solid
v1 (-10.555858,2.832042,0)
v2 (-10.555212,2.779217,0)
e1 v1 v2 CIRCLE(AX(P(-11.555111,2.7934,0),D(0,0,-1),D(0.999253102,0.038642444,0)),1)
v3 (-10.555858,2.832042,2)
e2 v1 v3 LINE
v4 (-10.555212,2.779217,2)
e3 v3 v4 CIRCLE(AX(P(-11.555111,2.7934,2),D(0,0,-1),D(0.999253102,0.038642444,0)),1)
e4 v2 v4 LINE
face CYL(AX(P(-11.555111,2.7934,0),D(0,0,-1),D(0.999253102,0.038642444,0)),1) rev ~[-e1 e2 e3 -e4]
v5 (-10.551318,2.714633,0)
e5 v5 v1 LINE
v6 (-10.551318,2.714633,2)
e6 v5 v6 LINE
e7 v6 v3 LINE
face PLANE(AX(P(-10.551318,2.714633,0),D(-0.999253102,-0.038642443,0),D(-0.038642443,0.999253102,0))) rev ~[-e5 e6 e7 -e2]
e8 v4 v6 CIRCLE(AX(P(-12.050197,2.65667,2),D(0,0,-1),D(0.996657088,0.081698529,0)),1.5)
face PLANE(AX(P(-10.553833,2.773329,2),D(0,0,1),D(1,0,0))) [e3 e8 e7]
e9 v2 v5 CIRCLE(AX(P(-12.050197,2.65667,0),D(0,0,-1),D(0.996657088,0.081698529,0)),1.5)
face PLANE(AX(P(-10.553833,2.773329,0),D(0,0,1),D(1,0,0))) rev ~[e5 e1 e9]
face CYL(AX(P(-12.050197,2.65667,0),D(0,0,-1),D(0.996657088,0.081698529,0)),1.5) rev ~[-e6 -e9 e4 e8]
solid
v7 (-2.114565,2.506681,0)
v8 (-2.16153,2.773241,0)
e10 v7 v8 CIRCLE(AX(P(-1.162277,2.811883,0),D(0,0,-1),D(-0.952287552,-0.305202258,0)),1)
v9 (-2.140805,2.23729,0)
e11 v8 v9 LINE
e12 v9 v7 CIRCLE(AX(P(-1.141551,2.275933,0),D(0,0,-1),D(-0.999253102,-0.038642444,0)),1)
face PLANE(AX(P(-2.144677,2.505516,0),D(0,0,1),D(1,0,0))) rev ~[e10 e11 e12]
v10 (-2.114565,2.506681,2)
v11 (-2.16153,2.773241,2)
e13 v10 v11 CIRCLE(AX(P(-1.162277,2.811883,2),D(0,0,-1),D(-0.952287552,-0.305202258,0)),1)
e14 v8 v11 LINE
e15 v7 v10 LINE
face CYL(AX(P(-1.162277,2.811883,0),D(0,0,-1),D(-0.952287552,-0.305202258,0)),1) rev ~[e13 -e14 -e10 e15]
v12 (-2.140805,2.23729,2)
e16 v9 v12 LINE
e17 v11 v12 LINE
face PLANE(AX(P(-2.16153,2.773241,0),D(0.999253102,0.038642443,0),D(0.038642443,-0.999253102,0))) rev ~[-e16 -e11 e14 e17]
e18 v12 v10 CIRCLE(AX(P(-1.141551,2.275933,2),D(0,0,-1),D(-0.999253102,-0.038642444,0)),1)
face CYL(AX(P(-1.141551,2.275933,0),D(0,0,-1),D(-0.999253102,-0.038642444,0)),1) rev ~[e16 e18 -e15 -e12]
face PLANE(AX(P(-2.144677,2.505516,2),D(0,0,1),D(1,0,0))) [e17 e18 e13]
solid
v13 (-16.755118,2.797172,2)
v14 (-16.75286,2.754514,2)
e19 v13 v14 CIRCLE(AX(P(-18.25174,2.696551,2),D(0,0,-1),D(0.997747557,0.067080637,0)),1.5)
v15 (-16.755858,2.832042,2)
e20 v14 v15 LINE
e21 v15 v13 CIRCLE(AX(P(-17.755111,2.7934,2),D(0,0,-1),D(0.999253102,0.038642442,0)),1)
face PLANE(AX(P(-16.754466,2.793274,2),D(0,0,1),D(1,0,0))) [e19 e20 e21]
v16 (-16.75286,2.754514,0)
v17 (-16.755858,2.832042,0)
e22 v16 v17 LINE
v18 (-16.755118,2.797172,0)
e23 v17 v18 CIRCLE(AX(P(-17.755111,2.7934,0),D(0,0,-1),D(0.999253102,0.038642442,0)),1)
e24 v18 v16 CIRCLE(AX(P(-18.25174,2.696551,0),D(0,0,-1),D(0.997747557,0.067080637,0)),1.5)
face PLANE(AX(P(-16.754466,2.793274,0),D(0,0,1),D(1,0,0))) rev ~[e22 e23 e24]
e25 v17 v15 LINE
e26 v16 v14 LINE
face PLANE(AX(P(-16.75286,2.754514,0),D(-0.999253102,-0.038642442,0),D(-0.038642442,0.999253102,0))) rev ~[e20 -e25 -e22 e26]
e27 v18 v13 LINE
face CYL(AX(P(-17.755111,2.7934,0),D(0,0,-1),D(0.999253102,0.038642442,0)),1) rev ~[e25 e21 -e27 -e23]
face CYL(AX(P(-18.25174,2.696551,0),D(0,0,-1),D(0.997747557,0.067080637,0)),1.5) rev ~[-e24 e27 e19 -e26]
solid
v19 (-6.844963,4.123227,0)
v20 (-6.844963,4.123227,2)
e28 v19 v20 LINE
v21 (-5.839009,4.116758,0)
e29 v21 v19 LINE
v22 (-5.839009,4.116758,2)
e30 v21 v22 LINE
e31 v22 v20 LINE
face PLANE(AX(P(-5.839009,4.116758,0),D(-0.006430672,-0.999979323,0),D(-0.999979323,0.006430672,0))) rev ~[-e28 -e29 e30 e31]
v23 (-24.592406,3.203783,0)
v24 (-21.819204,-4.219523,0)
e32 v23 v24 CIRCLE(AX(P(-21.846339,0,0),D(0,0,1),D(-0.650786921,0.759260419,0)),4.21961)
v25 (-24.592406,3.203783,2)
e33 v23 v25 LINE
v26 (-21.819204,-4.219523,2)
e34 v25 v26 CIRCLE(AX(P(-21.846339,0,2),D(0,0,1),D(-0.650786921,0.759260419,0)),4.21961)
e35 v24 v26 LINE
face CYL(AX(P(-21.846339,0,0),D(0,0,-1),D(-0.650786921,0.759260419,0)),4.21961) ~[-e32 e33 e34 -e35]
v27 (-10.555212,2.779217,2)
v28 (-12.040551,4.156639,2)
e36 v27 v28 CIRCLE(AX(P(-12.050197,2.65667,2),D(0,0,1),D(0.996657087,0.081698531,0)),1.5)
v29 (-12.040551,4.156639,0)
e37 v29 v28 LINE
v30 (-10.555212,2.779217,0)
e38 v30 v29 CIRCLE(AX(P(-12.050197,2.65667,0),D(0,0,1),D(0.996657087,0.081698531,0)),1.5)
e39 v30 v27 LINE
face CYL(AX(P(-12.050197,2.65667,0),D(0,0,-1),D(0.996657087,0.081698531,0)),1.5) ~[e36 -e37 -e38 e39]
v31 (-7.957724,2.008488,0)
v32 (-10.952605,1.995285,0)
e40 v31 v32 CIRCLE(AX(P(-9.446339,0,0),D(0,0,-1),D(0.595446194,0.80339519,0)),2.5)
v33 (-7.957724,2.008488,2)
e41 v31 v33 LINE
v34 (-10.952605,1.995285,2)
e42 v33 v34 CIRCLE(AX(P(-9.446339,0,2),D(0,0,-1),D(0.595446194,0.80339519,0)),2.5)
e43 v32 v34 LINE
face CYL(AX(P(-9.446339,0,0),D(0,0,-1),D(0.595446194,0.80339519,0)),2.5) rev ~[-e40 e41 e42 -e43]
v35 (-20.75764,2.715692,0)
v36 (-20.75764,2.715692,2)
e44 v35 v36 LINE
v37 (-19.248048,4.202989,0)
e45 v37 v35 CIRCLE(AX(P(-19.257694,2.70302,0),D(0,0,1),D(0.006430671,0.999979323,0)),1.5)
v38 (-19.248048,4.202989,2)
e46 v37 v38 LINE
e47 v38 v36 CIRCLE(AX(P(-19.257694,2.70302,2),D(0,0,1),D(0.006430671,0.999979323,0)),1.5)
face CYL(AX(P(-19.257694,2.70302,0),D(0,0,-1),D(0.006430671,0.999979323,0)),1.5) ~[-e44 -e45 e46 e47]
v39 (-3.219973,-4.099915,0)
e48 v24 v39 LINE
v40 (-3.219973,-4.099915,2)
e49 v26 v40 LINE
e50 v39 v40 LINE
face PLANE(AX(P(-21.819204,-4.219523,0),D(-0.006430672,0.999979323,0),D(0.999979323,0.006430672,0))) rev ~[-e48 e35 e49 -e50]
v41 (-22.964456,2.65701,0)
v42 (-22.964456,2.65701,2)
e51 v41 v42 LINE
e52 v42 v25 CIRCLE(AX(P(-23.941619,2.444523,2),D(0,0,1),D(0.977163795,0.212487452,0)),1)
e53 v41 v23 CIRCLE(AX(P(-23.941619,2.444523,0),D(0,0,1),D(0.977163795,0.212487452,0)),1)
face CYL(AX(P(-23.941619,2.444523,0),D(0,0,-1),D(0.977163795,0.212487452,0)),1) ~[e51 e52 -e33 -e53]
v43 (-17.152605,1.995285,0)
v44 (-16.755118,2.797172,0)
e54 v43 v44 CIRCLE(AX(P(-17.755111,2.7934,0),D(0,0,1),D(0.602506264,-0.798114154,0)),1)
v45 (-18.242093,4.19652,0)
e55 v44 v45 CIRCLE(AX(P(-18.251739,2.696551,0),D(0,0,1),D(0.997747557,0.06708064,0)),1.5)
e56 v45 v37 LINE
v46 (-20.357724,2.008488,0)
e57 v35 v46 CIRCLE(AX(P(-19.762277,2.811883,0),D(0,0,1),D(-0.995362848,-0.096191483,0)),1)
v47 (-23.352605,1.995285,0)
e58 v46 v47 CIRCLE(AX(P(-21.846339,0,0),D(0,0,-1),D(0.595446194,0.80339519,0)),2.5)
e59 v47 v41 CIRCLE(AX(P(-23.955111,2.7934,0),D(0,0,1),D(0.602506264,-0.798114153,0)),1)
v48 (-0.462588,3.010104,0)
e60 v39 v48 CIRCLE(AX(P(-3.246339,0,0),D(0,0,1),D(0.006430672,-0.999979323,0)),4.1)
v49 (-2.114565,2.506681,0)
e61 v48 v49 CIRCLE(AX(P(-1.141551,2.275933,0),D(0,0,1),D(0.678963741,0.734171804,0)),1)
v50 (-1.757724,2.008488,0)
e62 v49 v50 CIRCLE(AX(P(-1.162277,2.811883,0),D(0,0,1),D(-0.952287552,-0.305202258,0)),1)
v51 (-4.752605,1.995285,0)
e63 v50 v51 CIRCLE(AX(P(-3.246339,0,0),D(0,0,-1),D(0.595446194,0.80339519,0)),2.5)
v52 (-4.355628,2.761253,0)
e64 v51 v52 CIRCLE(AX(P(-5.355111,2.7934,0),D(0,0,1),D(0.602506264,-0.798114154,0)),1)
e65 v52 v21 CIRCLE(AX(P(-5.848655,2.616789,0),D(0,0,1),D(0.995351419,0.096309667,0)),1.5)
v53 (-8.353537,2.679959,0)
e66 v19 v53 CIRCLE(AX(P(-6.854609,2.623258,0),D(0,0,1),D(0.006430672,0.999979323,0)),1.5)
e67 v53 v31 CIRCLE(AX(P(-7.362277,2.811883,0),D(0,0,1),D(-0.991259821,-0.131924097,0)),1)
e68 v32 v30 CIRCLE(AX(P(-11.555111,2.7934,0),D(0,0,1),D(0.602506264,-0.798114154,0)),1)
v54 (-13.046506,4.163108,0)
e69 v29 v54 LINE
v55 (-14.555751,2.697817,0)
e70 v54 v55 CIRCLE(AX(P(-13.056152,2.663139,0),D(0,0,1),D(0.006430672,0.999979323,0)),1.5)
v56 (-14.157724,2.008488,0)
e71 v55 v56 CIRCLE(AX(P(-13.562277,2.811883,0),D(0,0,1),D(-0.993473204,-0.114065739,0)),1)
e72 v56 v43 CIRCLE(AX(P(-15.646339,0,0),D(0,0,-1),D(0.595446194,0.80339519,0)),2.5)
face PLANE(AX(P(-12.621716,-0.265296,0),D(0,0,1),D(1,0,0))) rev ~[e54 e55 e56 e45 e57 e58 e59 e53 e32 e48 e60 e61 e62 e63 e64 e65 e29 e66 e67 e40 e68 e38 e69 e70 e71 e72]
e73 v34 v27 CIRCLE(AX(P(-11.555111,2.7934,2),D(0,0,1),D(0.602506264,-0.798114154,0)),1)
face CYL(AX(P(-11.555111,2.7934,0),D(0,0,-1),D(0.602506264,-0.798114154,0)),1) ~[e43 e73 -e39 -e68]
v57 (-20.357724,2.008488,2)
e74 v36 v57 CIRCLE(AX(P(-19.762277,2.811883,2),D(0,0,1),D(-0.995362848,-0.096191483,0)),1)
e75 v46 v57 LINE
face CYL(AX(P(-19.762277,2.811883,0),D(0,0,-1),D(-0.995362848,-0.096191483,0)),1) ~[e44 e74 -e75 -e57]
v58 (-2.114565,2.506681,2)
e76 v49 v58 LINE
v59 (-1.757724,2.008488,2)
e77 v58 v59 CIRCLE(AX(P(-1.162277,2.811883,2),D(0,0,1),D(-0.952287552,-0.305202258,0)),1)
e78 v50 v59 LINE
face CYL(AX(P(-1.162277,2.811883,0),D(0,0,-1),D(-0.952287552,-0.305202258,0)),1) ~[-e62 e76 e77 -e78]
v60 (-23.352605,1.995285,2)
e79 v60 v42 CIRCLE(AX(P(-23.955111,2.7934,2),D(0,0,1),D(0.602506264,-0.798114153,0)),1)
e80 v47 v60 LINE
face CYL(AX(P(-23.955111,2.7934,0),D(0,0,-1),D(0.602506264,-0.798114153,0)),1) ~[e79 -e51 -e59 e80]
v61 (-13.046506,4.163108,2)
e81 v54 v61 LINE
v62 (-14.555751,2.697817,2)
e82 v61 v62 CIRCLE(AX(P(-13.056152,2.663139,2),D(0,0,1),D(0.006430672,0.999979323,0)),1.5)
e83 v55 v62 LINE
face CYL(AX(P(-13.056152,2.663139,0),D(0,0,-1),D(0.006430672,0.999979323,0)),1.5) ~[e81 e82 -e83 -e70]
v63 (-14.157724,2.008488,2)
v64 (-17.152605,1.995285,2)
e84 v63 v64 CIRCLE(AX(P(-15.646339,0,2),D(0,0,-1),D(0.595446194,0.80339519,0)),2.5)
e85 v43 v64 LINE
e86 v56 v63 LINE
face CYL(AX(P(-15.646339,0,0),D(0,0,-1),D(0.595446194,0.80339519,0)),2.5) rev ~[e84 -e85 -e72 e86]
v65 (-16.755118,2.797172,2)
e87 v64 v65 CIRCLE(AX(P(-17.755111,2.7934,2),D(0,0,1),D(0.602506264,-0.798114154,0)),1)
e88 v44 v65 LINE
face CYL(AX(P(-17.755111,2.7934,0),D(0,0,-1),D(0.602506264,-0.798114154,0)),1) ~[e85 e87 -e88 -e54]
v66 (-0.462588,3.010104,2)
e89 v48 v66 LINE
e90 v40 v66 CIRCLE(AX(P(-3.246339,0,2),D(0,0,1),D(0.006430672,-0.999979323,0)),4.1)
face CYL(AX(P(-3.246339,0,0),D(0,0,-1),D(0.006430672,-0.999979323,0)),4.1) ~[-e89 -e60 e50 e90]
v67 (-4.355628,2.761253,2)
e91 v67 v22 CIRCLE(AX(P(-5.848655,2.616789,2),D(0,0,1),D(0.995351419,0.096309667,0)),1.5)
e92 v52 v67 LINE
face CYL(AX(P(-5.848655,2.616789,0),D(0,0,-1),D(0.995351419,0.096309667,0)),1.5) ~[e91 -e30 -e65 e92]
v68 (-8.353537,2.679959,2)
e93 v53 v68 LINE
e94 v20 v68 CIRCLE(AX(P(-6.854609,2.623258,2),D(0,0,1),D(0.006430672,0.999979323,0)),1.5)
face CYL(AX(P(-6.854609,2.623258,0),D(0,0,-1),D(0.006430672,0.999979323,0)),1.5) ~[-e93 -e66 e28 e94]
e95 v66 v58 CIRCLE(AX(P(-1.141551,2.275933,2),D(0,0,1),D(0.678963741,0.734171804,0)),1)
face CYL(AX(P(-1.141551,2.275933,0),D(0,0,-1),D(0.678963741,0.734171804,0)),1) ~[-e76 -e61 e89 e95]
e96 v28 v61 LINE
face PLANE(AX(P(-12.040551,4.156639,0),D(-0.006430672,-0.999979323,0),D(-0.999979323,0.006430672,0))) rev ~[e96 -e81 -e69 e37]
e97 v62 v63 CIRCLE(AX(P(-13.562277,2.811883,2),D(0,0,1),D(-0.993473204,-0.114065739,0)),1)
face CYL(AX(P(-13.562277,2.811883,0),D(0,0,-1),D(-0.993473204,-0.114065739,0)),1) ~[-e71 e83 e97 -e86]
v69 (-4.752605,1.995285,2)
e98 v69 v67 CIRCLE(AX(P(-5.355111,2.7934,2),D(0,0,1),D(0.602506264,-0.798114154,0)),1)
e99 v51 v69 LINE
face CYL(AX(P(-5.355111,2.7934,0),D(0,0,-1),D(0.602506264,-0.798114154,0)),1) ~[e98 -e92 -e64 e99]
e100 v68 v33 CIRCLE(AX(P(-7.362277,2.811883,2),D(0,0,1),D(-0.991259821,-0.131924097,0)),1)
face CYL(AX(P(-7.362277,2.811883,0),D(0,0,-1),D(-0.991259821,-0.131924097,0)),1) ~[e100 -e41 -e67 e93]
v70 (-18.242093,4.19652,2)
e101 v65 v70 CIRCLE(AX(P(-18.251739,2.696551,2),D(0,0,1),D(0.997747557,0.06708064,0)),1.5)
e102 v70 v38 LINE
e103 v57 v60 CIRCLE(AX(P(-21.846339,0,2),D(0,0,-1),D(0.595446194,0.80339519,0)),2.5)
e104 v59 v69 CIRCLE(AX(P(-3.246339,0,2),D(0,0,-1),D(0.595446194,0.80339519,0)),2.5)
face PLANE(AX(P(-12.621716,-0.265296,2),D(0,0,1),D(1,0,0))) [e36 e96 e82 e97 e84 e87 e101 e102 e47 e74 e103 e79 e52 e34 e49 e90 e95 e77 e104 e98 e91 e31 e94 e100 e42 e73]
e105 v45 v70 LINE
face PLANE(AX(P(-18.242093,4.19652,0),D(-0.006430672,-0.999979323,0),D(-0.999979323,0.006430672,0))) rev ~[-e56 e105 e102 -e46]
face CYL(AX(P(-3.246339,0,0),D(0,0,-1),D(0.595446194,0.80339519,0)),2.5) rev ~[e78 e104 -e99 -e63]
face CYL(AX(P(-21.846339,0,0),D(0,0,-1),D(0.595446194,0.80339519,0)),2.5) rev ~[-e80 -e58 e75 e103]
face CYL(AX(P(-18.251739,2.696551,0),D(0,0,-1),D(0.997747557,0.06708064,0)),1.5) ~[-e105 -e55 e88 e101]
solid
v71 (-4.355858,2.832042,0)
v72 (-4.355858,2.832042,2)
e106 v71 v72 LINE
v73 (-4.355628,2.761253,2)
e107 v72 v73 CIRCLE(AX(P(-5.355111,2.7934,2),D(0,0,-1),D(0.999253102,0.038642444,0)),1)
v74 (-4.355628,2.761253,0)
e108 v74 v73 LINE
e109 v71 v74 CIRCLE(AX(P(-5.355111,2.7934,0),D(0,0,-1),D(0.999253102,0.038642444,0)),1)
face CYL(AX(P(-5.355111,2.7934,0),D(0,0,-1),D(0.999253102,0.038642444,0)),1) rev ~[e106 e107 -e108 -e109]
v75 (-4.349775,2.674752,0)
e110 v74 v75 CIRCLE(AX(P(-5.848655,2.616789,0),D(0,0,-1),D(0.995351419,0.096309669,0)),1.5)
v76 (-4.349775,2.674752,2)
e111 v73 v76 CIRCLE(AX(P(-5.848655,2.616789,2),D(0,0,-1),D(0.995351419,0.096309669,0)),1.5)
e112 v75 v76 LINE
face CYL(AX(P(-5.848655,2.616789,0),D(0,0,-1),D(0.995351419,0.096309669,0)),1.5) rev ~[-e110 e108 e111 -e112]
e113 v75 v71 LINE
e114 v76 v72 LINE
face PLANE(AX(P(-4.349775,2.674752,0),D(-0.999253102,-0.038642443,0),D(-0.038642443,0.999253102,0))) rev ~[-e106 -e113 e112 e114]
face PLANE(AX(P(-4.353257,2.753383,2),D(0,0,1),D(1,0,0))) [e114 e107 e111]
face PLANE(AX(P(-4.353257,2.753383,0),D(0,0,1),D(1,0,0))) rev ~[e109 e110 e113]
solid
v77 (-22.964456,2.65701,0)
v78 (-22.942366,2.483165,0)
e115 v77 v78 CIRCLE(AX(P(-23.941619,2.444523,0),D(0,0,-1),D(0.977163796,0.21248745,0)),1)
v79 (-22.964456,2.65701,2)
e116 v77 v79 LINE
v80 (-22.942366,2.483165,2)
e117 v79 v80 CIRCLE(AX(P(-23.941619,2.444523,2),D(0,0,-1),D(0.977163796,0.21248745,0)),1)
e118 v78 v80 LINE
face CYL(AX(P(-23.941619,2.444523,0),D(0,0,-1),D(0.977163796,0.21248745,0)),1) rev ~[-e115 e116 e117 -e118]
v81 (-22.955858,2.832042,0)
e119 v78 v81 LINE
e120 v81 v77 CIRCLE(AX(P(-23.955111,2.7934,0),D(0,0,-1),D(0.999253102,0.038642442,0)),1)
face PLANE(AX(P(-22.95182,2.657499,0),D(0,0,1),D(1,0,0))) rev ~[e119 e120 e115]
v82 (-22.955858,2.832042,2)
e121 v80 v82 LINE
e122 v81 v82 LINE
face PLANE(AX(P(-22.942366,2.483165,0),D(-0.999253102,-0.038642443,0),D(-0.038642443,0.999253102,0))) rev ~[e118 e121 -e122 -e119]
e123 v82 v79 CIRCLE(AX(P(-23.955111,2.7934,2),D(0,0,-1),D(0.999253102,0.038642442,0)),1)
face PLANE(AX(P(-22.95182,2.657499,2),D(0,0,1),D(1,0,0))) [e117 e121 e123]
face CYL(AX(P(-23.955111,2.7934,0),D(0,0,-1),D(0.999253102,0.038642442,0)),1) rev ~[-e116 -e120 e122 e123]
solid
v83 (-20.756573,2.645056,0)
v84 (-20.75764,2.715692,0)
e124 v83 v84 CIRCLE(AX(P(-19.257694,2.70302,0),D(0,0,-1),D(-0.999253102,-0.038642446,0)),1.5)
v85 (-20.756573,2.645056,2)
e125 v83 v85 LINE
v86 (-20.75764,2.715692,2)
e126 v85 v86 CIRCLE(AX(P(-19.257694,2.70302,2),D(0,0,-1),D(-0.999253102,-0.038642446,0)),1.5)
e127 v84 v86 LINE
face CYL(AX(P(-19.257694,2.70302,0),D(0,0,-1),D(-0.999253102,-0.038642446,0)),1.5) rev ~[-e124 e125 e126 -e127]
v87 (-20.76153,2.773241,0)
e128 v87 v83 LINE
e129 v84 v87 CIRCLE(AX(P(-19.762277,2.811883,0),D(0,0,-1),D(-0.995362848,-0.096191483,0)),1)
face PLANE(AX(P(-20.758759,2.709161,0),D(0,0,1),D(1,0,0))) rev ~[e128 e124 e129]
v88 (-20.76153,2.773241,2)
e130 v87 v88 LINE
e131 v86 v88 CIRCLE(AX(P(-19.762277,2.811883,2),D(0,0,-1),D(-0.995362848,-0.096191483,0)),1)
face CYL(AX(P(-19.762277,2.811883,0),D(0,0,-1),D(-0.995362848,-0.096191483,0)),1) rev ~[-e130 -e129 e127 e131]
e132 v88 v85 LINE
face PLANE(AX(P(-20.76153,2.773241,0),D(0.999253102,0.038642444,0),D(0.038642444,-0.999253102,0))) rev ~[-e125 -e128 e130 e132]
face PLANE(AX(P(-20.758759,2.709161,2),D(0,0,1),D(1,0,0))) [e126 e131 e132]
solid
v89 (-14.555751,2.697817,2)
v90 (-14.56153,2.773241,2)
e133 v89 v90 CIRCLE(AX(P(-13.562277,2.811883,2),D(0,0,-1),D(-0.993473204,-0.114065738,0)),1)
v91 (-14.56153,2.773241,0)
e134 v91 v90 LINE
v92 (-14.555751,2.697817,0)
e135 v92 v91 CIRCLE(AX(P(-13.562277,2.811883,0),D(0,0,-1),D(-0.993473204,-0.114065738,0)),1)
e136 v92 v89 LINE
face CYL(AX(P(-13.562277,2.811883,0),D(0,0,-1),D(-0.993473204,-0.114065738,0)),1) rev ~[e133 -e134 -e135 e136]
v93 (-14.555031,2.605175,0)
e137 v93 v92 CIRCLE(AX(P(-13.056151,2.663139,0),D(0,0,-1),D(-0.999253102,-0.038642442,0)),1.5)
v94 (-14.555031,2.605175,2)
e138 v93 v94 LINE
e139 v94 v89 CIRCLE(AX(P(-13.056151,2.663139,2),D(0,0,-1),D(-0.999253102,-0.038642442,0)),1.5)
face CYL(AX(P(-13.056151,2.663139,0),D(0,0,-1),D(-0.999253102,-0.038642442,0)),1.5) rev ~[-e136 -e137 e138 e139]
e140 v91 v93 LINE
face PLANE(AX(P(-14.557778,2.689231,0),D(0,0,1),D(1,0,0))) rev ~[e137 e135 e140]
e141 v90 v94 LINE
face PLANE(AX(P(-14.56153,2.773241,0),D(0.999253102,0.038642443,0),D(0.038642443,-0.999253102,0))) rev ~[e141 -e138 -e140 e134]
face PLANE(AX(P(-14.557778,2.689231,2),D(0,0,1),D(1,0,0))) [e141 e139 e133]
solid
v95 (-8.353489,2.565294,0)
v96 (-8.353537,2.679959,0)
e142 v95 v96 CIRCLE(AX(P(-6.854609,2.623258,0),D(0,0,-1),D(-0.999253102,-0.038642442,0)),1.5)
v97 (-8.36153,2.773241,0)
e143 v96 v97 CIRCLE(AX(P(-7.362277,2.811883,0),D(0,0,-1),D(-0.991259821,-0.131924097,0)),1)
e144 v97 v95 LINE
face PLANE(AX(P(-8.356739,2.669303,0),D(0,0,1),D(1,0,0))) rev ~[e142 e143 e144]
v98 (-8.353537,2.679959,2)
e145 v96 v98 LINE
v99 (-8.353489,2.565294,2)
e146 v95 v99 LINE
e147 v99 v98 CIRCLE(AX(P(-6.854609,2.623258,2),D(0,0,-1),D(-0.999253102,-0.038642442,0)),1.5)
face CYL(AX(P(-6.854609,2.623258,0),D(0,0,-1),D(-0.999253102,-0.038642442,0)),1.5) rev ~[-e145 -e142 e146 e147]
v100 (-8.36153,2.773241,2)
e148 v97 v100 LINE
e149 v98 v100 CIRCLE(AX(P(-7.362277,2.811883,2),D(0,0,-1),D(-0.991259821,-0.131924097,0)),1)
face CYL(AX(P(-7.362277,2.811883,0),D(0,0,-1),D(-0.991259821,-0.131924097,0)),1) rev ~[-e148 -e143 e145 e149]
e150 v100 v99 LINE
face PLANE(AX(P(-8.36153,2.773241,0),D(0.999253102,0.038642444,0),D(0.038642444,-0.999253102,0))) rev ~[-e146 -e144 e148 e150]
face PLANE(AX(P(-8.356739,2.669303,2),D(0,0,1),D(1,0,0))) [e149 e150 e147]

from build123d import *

# Parameters (mm, degrees)
F1_DEPTH = 2


with BuildPart() as f1:
    # F0 (on Top) → F1 (new body)
    with BuildSketch(Plane.XY):
        with BuildLine():
            ThreePointArc((-20.7565734159, 2.6450559883), (-20.7575227142, 2.6803675531), (-20.7576402354, 2.7156916802))
            ThreePointArc((-20.7576402354, 2.7156916802), (-20.7600003801, 2.7444381453), (-20.7615304896, 2.7732407199))
            Line((-20.7615304896, 2.7732407199), (-20.7565734159, 2.6450559883))
        make_face()
    extrude(amount=F1_DEPTH)


with BuildPart() as f1b:
    # F0 (on Top) → F1, piece 2 (new body)
    with BuildSketch(Plane.XY):
        with BuildLine():
            ThreePointArc((-16.7558578866, 2.8320419808), (-16.7553359551, 2.8146099746), (-16.7551181024, 2.7971715173))
            ThreePointArc((-16.7551181024, 2.7971715173), (-16.7538370868, 2.7758509096), (-16.7528597854, 2.7545142229))
            Line((-16.7528597854, 2.7545142229), (-16.7558578866, 2.8320419808))
        make_face()
    extrude(amount=F1_DEPTH)


with BuildPart() as f1c:
    # F0 (on Top) → F1, piece 3 (new body)
    with BuildSketch(Plane.XY):
        with BuildLine():
            ThreePointArc((-14.5550311684, 2.6051750824), (-14.5561062892, 2.6514906978), (-14.5557505918, 2.6978174244))
            ThreePointArc((-14.5557505918, 2.6978174244), (-14.559353965, 2.7354744005), (-14.5615304896, 2.7732407199))
            Line((-14.5615304896, 2.7732407199), (-14.5550311684, 2.6051750824))
        make_face()
    extrude(amount=F1_DEPTH)


with BuildPart() as f1d:
    # F0 (on Top) → F1, piece 4 (new body)
    with BuildSketch(Plane.XY):
        with BuildLine():
            ThreePointArc((-10.5558578866, 2.8320419808), (-10.5551858321, 2.8056339835), (-10.5552115594, 2.7792174485))
            ThreePointArc((-10.5552115594, 2.7792174485), (-10.5529162844, 2.7469463809), (-10.5513175378, 2.714633317))
            Line((-10.5513175378, 2.714633317), (-10.5558578866, 2.8320419808))
        make_face()
    extrude(amount=F1_DEPTH)


with BuildPart() as f1e:
    # F0 (on Top) → F1, piece 5 (new body)
    with BuildSketch(Plane.XY):
        with BuildLine():
            ThreePointArc((-8.3534889208, 2.5652941765), (-8.354609135, 2.6226261597), (-8.3535372087, 2.6799590661))
            ThreePointArc((-8.3535372087, 2.6799590661), (-8.3586261172, 2.7265062968), (-8.3615304896, 2.7732407199))
            Line((-8.3615304896, 2.7732407199), (-8.3534889208, 2.5652941765))
        make_face()
    extrude(amount=F1_DEPTH)


with BuildPart() as f1f:
    # F0 (on Top) → F1, piece 6 (new body)
    with BuildSketch(Plane.XY):
        with BuildLine():
            ThreePointArc((-4.3558578866, 2.8320419808), (-4.3551162701, 2.7966496504), (-4.3556278141, 2.761253247))
            ThreePointArc((-4.3556278141, 2.761253247), (-4.3520764632, 2.7180451217), (-4.3497752903, 2.6747524111))
            Line((-4.3497752903, 2.6747524111), (-4.3558578866, 2.8320419808))
        make_face()
    extrude(amount=F1_DEPTH)


with BuildPart() as f1g:
    # F0 (on Top) → F1, piece 7 (new body)
    with BuildSketch(Plane.XY):
        with BuildLine():
            ThreePointArc((-2.1408045699, 2.2372901502), (-2.136841227, 2.3728774013), (-2.1145649399, 2.5066809058))
            ThreePointArc((-2.1145649399, 2.5066809058), (-2.1471079644, 2.6383644747), (-2.1615304896, 2.7732407199))
            Line((-2.1615304896, 2.7732407199), (-2.1408045699, 2.2372901502))
        make_face()
    extrude(amount=F1_DEPTH)


with BuildPart() as f1h:
    # F0 (on Top) → F1, piece 8 (new body)
    with BuildSketch(Plane.XY):
        with BuildLine():
            ThreePointArc((-22.9558578866, 2.8320419808), (-22.9563152593, 2.7443374212), (-22.9644556672, 2.6570102621))
            ThreePointArc((-22.9644556672, 2.6570102621), (-22.9495955417, 2.570572564), (-22.9423663607, 2.4831652536))
            Line((-22.9423663607, 2.4831652536), (-22.9558578866, 2.8320419808))
        make_face()
    extrude(amount=F1_DEPTH)


with BuildPart() as f1i:
    # F0 (on Top) → F1, piece 9 (new body)
    with BuildSketch(Plane.XY):
        with BuildLine():
            ThreePointArc((-20.3577235813, 2.0084879738), (-21.8353182092, -2.499975708), (-23.3526047247, 1.9952853839))
            ThreePointArc((-23.3526047247, 1.9952853839), (-23.0925503167, 2.2874458959), (-22.9644556672, 2.6570102621))
            ThreePointArc((-22.9644556672, 2.6570102621), (-23.6232319071, 3.3924834447), (-24.5924063832, 3.2037832292))
            ThreePointArc((-24.5924063832, 3.2037832292), (-25.7991251808, -1.4766836558), (-21.8192041361, -4.219523242))
            Line((-21.8192041361, -4.219523242), (-3.2199733119, -4.0999152244))
            ThreePointArc((-3.2199733119, -4.0999152244), (0.5762627025, -1.4824694686), (-0.462587727, 3.010104398))
            ThreePointArc((-0.462587727, 3.010104398), (-1.4330563808, 3.232501925), (-2.1145649399, 2.5066809058))
            ThreePointArc((-2.1145649399, 2.5066809058), (-1.9752466284, 2.2295765313), (-1.7577235813, 2.0084879738))
            ThreePointArc((-1.7577235813, 2.0084879738), (-3.2353182092, -2.499975708), (-4.7526047247, 1.9952853839))
            ThreePointArc((-4.7526047247, 1.9952853839), (-4.4672657138, 2.3332574201), (-4.3556278141, 2.761253247))
            ThreePointArc((-4.3556278141, 2.761253247), (-4.8367978682, 3.724103182), (-5.8390089357, 4.1167577305))
            Line((-5.8390089357, 4.1167577305), (-6.8449632607, 4.1232268261))
            ThreePointArc((-6.8449632607, 4.1232268261), (-7.8915497803, 3.7071187063), (-8.3535372087, 2.6799590661))
            ThreePointArc((-8.3535372087, 2.6799590661), (-8.2237455247, 2.3040715359), (-7.9577235813, 2.0084879738))
            ThreePointArc((-7.9577235813, 2.0084879738), (-9.4353182092, -2.499975708), (-10.9526047247, 1.9952853839))
            ThreePointArc((-10.9526047247, 1.9952853839), (-10.6631673963, 2.3412528484), (-10.5552115594, 2.7792174485))
            ThreePointArc((-10.5552115594, 2.7792174485), (-11.0302455377, 3.7565326551), (-12.0405511833, 4.1566386364))
            Line((-12.0405511833, 4.1566386364), (-13.0465055083, 4.1631077321))
            ThreePointArc((-13.0465055083, 4.1631077321), (-14.1010242152, 3.7393548233), (-14.5557505918, 2.6978174244))
            ThreePointArc((-14.5557505918, 2.6978174244), (-14.4282796891, 2.3118431509), (-14.1577235813, 2.0084879738))
            ThreePointArc((-14.1577235813, 2.0084879738), (-15.6353182092, -2.499975708), (-17.1526047247, 1.9952853839))
            ThreePointArc((-17.1526047247, 1.9952853839), (-16.8591443462, 2.3492781847), (-16.7551181024, 2.7971715173))
            ThreePointArc((-16.7551181024, 2.7971715173), (-17.2237540049, 3.7889085344), (-18.2420934308, 4.1965195424))
            Line((-18.2420934308, 4.1965195424), (-19.2480477558, 4.202988638))
            ThreePointArc((-19.2480477558, 4.202988638), (-20.3104339633, 3.7715410949), (-20.7576402354, 2.7156916802))
            ThreePointArc((-20.7576402354, 2.7156916802), (-20.6327385426, 2.3196460478), (-20.3577235813, 2.0084879738))
        make_face()
    extrude(amount=F1_DEPTH)


solid = Compound([f1.part, f1b.part, f1c.part, f1d.part, f1e.part, f1f.part, f1g.part, f1h.part, f1i.part])
